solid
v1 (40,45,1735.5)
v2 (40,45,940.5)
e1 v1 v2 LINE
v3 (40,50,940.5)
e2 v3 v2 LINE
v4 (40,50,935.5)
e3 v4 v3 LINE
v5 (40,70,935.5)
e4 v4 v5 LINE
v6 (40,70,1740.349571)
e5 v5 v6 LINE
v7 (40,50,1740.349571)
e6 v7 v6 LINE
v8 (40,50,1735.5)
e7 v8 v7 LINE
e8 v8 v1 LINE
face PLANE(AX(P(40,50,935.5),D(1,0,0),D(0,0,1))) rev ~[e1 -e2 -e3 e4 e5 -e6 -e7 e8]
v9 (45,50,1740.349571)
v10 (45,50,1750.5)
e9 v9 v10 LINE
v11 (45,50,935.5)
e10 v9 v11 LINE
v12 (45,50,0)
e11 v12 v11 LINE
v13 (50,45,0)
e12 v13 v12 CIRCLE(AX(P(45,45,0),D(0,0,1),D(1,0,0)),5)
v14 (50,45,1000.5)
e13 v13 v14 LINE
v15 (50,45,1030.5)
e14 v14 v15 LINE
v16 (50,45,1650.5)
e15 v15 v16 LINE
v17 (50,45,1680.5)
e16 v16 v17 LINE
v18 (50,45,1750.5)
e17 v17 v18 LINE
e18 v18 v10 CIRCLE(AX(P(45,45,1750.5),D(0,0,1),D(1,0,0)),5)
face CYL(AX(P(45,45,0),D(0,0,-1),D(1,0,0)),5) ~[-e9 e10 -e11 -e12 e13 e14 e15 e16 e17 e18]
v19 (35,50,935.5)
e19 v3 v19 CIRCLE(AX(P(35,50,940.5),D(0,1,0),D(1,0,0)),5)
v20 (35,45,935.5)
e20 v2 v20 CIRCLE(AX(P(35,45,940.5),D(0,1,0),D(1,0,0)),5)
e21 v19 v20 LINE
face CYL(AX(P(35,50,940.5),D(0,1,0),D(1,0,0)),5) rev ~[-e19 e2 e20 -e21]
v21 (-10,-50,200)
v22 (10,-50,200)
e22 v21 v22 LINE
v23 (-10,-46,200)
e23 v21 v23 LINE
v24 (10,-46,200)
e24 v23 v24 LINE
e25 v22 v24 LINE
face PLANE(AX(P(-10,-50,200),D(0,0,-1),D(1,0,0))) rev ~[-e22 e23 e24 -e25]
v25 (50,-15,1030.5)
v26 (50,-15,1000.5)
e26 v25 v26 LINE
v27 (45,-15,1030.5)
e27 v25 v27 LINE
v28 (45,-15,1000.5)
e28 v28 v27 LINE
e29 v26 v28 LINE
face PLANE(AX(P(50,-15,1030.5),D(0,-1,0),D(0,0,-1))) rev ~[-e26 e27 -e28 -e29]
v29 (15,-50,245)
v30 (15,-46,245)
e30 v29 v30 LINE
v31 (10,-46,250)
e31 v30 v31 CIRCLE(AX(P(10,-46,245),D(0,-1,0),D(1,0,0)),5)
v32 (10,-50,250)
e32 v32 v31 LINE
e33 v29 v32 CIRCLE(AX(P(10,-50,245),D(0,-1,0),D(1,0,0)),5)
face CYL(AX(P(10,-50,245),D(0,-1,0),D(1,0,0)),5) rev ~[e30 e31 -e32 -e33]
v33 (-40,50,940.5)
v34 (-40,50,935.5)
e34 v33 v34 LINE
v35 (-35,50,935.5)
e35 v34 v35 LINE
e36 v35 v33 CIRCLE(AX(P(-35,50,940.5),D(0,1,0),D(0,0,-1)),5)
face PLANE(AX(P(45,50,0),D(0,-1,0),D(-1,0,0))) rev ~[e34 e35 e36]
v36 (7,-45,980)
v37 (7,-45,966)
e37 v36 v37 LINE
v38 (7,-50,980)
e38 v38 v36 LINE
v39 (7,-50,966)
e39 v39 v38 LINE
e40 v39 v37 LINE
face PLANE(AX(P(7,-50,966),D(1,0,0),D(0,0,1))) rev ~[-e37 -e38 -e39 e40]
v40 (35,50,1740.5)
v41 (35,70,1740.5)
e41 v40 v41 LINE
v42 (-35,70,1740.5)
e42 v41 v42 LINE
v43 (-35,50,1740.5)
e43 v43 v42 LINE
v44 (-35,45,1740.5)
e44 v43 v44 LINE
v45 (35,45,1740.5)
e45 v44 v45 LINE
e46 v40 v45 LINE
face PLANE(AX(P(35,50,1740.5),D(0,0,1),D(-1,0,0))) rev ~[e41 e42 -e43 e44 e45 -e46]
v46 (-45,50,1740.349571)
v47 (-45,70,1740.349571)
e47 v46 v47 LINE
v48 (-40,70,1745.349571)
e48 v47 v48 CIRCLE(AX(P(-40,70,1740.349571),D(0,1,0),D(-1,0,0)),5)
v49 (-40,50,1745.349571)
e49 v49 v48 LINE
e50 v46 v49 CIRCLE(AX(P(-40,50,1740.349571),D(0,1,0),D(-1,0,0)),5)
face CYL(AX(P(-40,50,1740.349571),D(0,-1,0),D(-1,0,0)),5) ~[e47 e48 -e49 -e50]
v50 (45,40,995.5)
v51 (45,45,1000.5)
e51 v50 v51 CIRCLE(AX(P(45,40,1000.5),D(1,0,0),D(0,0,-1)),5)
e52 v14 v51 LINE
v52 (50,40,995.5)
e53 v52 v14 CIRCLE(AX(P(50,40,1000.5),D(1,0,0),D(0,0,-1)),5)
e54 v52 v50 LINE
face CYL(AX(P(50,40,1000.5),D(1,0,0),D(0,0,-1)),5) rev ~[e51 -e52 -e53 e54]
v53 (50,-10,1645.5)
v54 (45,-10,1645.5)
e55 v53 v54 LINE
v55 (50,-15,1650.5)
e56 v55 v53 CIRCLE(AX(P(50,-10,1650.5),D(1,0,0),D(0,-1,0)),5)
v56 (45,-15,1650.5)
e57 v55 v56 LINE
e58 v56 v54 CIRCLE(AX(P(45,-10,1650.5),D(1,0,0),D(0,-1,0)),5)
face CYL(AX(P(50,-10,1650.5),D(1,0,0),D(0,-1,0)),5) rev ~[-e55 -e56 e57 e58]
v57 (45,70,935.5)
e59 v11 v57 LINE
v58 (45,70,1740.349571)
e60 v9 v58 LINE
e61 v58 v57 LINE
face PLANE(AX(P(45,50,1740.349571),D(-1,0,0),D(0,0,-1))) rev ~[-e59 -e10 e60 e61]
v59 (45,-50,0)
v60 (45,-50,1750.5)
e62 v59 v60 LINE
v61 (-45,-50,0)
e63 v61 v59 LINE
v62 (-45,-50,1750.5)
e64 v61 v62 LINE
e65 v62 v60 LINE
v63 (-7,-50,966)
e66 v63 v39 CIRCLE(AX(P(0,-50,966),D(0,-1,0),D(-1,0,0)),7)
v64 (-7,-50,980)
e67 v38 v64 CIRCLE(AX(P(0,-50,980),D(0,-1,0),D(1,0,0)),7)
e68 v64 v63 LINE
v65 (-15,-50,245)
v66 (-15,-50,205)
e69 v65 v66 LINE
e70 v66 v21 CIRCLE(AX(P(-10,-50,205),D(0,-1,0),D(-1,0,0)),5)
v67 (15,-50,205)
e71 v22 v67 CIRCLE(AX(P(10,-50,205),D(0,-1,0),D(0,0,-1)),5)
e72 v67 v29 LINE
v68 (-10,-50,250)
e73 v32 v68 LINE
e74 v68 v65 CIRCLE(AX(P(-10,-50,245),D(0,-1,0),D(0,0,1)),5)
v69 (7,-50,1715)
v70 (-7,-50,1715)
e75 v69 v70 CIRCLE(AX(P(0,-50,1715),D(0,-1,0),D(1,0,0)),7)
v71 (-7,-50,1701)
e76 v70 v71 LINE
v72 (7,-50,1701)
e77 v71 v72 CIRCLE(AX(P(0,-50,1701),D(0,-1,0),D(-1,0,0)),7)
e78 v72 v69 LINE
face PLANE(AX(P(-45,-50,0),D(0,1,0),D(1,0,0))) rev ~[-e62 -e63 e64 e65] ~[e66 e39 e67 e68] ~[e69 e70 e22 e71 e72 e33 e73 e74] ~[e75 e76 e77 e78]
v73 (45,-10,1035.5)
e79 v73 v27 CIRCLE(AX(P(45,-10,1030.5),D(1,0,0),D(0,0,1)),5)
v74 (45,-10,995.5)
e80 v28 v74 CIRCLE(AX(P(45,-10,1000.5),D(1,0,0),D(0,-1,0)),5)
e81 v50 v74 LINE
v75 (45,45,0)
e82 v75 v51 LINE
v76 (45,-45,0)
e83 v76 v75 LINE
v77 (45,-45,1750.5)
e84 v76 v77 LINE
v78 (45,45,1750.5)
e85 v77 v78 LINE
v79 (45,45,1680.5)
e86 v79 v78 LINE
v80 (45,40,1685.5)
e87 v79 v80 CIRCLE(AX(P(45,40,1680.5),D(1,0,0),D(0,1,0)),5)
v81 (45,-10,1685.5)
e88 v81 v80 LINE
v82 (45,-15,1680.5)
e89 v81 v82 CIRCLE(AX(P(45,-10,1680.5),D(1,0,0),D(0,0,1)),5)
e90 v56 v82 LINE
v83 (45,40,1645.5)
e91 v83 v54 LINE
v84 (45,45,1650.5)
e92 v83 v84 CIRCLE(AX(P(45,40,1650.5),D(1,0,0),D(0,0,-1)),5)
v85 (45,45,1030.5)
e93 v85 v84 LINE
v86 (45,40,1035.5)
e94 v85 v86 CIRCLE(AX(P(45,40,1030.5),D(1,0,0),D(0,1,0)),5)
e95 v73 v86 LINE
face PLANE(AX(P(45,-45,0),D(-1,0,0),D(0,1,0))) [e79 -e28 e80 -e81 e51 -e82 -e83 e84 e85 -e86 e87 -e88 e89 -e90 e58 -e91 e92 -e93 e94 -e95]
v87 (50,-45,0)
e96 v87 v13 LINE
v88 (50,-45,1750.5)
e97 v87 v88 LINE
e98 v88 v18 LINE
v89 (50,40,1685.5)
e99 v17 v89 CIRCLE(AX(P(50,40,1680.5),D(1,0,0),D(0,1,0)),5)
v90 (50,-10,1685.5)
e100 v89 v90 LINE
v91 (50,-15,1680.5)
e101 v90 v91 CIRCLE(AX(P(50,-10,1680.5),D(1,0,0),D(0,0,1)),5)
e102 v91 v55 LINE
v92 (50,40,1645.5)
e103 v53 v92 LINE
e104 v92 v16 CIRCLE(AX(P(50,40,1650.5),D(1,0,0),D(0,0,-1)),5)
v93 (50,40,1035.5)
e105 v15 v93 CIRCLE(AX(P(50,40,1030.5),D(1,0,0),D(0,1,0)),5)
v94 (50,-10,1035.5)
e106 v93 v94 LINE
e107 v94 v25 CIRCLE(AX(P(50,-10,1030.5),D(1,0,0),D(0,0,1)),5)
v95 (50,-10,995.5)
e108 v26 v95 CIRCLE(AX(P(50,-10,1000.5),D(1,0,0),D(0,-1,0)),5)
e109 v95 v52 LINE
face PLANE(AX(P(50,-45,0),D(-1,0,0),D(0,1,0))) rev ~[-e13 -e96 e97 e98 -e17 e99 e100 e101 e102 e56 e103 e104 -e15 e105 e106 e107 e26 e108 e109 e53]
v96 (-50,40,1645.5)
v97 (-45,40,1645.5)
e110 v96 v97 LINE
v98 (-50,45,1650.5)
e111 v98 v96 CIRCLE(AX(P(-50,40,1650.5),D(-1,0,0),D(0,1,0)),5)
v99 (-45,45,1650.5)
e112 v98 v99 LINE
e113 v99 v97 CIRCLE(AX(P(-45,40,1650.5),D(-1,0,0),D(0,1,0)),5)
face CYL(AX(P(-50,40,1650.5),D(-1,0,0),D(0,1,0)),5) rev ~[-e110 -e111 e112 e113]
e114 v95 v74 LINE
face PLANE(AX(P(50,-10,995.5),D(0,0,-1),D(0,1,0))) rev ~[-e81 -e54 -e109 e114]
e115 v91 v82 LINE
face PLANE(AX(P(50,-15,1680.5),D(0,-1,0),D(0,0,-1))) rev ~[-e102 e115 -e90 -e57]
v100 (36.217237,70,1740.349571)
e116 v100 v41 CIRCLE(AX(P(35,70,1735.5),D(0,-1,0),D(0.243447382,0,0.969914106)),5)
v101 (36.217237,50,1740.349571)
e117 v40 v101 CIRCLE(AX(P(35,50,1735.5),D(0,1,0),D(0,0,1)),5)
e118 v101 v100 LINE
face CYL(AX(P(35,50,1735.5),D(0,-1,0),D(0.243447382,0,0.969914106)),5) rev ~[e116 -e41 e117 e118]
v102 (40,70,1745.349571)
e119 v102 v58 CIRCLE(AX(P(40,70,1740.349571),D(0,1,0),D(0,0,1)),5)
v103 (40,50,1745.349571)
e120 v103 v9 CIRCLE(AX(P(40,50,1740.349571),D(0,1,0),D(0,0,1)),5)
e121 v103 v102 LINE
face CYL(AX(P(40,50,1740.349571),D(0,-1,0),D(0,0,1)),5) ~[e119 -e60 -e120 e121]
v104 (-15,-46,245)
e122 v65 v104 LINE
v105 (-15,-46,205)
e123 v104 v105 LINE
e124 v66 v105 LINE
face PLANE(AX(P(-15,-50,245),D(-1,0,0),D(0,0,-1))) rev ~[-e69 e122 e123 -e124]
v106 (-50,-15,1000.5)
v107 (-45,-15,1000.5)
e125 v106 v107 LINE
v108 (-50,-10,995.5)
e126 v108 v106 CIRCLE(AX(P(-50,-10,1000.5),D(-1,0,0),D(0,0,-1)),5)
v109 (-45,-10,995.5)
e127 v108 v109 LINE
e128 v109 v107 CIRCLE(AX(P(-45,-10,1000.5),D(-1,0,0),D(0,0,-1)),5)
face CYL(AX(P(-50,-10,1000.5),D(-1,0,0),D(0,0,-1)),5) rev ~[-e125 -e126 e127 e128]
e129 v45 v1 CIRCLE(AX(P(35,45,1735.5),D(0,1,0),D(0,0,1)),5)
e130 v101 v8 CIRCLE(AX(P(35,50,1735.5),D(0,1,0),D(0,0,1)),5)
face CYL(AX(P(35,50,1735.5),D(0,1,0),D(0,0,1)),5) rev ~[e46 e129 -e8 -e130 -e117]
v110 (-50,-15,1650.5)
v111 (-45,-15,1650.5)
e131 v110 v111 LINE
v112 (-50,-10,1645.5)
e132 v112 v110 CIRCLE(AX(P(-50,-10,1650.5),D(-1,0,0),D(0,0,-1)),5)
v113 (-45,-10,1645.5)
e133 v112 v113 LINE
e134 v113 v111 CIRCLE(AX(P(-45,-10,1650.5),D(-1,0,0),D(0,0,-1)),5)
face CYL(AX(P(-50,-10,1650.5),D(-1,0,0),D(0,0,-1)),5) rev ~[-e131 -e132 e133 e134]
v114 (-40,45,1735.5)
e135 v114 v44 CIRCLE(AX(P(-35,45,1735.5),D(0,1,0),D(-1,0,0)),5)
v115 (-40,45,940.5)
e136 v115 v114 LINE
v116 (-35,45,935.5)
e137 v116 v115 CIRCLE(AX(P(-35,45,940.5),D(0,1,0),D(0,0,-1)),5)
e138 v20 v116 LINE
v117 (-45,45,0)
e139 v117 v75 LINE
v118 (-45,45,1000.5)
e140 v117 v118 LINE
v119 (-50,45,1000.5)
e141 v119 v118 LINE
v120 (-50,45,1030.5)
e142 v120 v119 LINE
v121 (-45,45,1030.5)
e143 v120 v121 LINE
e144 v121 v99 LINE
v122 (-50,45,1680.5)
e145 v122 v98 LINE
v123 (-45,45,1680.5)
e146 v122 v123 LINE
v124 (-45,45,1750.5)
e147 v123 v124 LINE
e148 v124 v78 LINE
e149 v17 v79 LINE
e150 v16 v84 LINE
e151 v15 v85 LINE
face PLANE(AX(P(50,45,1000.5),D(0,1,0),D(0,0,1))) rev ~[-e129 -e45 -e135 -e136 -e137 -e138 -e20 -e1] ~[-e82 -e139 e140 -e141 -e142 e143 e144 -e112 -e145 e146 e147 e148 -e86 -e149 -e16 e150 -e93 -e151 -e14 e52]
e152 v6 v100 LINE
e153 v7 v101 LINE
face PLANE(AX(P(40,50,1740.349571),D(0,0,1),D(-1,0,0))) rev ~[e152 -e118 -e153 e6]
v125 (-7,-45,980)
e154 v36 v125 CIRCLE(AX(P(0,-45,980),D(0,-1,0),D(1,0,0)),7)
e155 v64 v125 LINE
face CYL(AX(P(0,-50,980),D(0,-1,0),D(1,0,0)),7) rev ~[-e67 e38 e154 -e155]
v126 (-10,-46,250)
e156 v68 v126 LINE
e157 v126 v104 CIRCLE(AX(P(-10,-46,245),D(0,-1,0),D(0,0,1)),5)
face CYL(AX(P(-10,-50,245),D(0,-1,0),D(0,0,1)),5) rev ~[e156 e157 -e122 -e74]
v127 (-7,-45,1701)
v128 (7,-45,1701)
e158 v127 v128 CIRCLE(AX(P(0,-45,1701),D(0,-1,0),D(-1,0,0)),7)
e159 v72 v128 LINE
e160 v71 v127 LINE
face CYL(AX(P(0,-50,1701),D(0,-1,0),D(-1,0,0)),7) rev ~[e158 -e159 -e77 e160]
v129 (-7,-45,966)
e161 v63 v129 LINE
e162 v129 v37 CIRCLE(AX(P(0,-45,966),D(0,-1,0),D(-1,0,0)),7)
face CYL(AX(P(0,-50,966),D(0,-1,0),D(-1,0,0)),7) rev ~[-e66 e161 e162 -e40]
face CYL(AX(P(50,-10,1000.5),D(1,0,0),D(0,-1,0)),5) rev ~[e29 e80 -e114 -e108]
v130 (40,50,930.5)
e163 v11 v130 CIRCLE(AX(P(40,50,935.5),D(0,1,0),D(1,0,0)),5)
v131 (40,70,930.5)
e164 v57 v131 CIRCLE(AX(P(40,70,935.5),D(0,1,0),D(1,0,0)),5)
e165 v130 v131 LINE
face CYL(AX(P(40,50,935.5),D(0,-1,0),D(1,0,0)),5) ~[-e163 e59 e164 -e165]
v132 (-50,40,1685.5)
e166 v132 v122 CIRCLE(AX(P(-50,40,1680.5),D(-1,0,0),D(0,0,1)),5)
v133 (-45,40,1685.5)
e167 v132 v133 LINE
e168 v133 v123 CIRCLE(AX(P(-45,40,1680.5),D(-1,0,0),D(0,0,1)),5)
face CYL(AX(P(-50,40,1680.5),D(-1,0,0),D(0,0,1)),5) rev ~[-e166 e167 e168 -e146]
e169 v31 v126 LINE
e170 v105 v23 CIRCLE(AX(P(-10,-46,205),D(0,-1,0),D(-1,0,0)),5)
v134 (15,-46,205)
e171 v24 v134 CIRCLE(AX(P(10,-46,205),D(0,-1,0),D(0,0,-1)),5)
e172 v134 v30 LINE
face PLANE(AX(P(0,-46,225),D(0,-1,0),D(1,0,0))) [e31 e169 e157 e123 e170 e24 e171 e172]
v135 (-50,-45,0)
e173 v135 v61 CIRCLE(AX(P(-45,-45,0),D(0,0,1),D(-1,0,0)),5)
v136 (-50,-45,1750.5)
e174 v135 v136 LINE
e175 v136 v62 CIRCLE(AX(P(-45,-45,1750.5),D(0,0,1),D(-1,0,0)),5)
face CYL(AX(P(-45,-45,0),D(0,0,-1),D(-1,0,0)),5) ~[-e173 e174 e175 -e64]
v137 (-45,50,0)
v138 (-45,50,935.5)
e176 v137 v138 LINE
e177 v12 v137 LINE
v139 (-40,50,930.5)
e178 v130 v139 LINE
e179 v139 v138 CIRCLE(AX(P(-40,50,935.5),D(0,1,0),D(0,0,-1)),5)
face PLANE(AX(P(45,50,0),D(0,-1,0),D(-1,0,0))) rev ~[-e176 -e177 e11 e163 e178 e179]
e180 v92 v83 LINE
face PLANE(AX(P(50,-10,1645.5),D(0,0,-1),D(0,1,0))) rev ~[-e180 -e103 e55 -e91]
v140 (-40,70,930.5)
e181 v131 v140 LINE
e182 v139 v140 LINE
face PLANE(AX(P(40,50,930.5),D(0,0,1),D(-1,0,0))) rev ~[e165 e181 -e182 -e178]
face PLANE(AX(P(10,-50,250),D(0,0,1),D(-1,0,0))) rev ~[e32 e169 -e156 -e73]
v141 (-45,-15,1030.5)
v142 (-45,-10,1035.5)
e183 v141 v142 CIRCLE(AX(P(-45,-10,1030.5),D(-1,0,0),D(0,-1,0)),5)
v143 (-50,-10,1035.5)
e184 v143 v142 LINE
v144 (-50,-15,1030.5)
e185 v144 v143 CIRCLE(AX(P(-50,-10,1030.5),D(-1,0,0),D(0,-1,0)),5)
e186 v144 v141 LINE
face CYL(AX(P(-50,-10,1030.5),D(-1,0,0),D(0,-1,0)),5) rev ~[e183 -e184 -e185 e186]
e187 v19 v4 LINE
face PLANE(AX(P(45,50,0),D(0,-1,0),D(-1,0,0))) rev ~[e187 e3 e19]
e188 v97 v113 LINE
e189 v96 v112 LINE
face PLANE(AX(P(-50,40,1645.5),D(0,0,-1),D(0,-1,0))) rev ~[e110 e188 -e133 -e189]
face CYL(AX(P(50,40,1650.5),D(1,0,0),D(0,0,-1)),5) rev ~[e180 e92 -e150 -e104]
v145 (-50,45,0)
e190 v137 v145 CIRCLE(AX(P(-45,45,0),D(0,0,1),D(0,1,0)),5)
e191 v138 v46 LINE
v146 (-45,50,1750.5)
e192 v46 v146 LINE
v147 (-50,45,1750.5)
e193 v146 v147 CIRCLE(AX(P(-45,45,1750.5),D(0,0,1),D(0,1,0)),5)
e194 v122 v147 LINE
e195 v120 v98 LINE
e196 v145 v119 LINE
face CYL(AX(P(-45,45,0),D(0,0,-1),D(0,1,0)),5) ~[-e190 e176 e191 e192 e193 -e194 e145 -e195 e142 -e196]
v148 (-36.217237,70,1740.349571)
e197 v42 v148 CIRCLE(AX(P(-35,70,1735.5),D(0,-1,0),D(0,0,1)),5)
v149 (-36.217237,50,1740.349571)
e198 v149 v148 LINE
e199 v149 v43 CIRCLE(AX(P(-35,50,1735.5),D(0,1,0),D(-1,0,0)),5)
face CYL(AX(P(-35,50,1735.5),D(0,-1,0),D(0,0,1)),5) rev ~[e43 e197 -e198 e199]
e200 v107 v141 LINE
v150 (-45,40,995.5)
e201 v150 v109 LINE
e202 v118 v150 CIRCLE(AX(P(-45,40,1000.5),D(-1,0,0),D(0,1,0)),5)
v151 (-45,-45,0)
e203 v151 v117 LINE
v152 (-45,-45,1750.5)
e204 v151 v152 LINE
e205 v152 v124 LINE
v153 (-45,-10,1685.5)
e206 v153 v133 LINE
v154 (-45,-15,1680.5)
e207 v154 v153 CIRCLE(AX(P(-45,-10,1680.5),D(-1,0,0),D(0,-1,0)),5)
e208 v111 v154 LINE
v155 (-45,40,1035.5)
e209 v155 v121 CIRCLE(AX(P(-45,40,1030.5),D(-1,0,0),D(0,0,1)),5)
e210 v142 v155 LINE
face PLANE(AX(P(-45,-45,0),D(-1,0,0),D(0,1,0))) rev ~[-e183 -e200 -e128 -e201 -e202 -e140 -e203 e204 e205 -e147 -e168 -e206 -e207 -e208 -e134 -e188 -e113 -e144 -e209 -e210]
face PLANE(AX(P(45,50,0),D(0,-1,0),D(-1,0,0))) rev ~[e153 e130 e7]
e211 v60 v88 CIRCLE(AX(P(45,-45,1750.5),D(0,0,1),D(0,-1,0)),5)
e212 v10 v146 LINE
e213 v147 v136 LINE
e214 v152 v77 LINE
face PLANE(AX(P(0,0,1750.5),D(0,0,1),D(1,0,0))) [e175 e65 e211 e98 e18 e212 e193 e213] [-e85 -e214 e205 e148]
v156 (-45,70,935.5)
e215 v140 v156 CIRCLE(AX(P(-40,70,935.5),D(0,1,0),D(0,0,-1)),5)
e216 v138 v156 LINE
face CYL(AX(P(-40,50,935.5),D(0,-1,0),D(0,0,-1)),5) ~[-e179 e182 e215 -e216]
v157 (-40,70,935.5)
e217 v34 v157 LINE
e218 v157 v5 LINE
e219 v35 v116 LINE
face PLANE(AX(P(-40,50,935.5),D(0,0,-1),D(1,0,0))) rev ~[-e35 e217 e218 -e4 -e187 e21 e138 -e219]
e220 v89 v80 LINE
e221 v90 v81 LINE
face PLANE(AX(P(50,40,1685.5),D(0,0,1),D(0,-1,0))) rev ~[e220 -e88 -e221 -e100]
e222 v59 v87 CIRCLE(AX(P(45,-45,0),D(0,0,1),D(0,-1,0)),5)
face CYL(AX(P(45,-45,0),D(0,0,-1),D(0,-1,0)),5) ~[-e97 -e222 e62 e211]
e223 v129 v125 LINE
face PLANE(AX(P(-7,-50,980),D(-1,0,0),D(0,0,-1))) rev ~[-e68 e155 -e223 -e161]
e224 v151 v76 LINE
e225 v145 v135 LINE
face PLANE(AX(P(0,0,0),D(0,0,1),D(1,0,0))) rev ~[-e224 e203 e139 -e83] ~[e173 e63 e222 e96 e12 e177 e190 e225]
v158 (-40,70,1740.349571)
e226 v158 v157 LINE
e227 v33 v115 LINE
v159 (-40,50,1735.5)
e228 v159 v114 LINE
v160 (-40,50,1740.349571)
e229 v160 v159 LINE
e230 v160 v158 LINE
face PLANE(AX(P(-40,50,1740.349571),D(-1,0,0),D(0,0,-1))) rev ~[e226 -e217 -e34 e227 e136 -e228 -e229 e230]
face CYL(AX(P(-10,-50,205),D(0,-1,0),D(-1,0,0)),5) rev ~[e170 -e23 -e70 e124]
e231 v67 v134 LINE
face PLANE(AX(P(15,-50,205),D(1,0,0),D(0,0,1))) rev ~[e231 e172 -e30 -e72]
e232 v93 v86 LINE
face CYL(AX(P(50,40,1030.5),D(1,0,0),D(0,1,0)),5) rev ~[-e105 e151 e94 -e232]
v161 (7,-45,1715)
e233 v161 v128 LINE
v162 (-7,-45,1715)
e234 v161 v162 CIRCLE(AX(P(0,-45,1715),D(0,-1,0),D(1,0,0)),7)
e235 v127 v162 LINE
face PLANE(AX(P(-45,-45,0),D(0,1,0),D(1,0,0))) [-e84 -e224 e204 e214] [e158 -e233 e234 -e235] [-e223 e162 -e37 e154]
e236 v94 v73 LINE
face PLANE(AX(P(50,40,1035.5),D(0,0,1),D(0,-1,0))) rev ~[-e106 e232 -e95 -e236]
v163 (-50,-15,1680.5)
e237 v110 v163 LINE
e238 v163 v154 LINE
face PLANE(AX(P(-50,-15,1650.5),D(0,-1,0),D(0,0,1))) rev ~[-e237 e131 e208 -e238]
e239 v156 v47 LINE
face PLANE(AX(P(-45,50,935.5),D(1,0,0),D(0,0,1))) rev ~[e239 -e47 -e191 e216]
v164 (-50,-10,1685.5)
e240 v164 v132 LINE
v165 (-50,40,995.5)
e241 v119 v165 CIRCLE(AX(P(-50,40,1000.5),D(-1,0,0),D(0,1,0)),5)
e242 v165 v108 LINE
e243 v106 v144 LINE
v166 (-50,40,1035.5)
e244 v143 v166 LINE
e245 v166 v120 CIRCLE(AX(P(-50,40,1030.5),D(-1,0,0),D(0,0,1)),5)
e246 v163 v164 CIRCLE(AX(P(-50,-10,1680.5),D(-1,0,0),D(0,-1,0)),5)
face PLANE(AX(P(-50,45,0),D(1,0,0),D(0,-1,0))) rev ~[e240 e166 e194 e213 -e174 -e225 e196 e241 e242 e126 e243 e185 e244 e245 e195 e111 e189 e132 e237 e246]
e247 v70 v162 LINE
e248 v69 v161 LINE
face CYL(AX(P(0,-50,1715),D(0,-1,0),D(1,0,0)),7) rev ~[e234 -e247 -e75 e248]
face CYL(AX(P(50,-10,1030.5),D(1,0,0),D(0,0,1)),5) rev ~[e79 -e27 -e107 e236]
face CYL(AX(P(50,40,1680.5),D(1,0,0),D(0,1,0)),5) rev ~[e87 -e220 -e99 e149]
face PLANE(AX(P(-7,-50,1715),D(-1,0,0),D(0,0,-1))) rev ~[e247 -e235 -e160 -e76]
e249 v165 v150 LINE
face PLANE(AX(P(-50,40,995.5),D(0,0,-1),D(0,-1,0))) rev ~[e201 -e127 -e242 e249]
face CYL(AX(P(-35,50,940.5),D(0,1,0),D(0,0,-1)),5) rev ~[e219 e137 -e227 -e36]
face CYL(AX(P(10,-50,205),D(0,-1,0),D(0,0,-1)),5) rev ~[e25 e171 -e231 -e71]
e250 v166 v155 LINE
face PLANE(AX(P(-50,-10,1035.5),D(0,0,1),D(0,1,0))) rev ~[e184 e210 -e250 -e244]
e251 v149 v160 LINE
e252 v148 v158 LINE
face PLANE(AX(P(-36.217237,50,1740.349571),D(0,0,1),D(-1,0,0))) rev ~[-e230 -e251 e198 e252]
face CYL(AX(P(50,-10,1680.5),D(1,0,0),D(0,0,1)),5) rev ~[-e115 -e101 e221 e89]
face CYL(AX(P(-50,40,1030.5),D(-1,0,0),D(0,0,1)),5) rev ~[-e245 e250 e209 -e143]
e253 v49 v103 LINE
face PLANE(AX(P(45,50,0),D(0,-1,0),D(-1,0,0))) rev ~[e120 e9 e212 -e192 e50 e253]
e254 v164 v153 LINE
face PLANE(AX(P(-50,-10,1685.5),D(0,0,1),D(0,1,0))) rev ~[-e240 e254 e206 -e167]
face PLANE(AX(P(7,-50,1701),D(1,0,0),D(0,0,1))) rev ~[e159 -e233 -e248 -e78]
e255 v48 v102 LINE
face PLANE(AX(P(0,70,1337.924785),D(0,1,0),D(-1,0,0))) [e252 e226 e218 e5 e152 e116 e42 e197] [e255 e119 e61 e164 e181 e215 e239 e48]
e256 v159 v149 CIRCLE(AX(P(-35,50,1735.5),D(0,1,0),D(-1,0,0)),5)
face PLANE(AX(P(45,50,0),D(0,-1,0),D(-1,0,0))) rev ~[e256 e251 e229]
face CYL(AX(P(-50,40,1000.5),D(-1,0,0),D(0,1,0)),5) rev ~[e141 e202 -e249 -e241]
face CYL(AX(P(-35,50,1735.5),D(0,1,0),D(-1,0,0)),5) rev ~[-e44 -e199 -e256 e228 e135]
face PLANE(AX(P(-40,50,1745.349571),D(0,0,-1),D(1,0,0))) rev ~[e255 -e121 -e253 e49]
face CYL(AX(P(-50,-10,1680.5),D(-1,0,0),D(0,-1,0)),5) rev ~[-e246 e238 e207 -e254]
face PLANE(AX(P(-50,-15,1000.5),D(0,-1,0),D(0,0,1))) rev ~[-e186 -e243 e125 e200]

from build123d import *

# Parameters (mm, degrees)
F0_W      = 90
F0_H      = 90
F1_DEPTH  = 1750.5
F3_DEPTH  = 4
F5_DEPTH  = 25
F7_DEPTH  = 25
F9_DEPTH  = 25
F11_DEPTH = 25
F13_DEPTH = 20


with BuildPart() as f1:
    # F0 (on Top) → F1 (new body)
    with BuildSketch(Plane.XY):
        with BuildLine():
            ThreePointArc((50, 45), (48.5355339059, 48.5355339059), (45, 50))
            Line((45, 50), (-45, 50))
            ThreePointArc((-45, 50), (-48.5355339059, 48.5355339059), (-50, 45))
            Line((-50, 45), (-50, -45))
            ThreePointArc((-50, -45), (-48.5355339059, -48.5355339059), (-45, -50))
            Line((-45, -50), (45, -50))
            ThreePointArc((45, -50), (48.5355339059, -48.5355339059), (50, -45))
            Line((50, -45), (50, 45))
        make_face()
        Rectangle(F0_W, F0_H, mode=Mode.SUBTRACT)
    extrude(amount=F1_DEPTH)

    # F2 (on face) → F3 (cut)
    with BuildSketch(Plane.XZ.offset(50)):
        with BuildLine():
            ThreePointArc((-15, 205), (-13.5355339059, 201.4644660941), (-10, 200))
            Line((-10, 200), (10, 200))
            ThreePointArc((10, 200), (13.5355339059, 201.4644660941), (15, 205))
            Line((15, 205), (15, 245))
            ThreePointArc((15, 245), (13.5355339059, 248.5355339059), (10, 250))
            Line((10, 250), (-10, 250))
            ThreePointArc((-10, 250), (-13.5355339059, 248.5355339059), (-15, 245))
            Line((-15, 245), (-15, 205))
        make_face()
    extrude(amount=-F3_DEPTH, mode=Mode.SUBTRACT)

    # F4 (on face) → F5 (cut)
    with BuildSketch(Plane(origin=(0, 50, 0), x_dir=(-1, 0, 0), z_dir=(0, 1, 0))):
        with BuildLine():
            Line((35, 1740.5), (-35, 1740.5))
            ThreePointArc((-35, 1740.5), (-38.5355339059, 1739.0355339059), (-40, 1735.5))
            Line((-40, 1735.5), (-40, 940.5))
            ThreePointArc((-40, 940.5), (-38.5355339059, 936.9644660941), (-35, 935.5))
            Line((-35, 935.5), (35, 935.5))
            ThreePointArc((35, 935.5), (38.5355339059, 936.9644660941), (40, 940.5))
            Line((40, 940.5), (40, 1735.5))
            ThreePointArc((40, 1735.5), (38.5355339059, 1739.0355339059), (35, 1740.5))
        make_face()
    extrude(amount=-F5_DEPTH, mode=Mode.SUBTRACT)

    # F6 (on face) → F7 (cut)
    with BuildSketch(Plane.XZ.offset(50)):
        with BuildLine():
            Line((7, 966), (7, 980))
            ThreePointArc((7, 980), (0, 987), (-7, 980))
            Line((-7, 980), (-7, 966))
            ThreePointArc((-7, 966), (0, 959), (7, 966))
        make_face()
        with BuildLine():
            Line((-7, 1715), (-7, 1701))
            ThreePointArc((-7, 1701), (0, 1694), (7, 1701))
            Line((7, 1701), (7, 1715))
            ThreePointArc((7, 1715), (0, 1722), (-7, 1715))
        make_face()
    extrude(amount=-F7_DEPTH, mode=Mode.SUBTRACT)

    # F8 (on face) → F9 (cut)
    with BuildSketch(Plane.YZ.offset(50)):
        with BuildLine():
            Line((45, 1000.5), (45, 1030.5))
            ThreePointArc((45, 1030.5), (43.5355339059, 1034.0355339059), (40, 1035.5))
            Line((40, 1035.5), (-10, 1035.5))
            ThreePointArc((-10, 1035.5), (-13.5355339059, 1034.0355339059), (-15, 1030.5))
            Line((-15, 1030.5), (-15, 1000.5))
            ThreePointArc((-15, 1000.5), (-13.5355339059, 996.9644660941), (-10, 995.5))
            Line((-10, 995.5), (40, 995.5))
            ThreePointArc((40, 995.5), (43.5355339059, 996.9644660941), (45, 1000.5))
        make_face()
        with BuildLine():
            Line((40, 1685.5), (-10, 1685.5))
            ThreePointArc((-10, 1685.5), (-13.5355339059, 1684.0355339059), (-15, 1680.5))
            Line((-15, 1680.5), (-15, 1650.5))
            ThreePointArc((-15, 1650.5), (-13.5355339059, 1646.9644660941), (-10, 1645.5))
            Line((-10, 1645.5), (40, 1645.5))
            ThreePointArc((40, 1645.5), (43.5355339059, 1646.9644660941), (45, 1650.5))
            Line((45, 1650.5), (45, 1680.5))
            ThreePointArc((45, 1680.5), (43.5355339059, 1684.0355339059), (40, 1685.5))
        make_face()
    extrude(amount=-F9_DEPTH, mode=Mode.SUBTRACT)

    # F10 (on face) → F11 (cut)
    with BuildSketch(Plane(origin=(-50, 0, 0), x_dir=(0, -1, 0), z_dir=(-1, 0, 0))):
        with BuildLine():
            Line((10, 1685.5), (-40, 1685.5))
            ThreePointArc((-40, 1685.5), (-43.5355339059, 1684.0355339059), (-45, 1680.5))
            Line((-45, 1680.5), (-45, 1650.5))
            ThreePointArc((-45, 1650.5), (-43.5355339059, 1646.9644660941), (-40, 1645.5))
            Line((-40, 1645.5), (10, 1645.5))
            ThreePointArc((10, 1645.5), (13.5355339059, 1646.9644660941), (15, 1650.5))
            Line((15, 1650.5), (15, 1680.5))
            ThreePointArc((15, 1680.5), (13.5355339059, 1684.0355339059), (10, 1685.5))
        make_face()
        with BuildLine():
            ThreePointArc((-40, 1035.5), (-43.5355339059, 1034.0355339059), (-45, 1030.5))
            Line((-45, 1030.5), (-45, 1000.5))
            ThreePointArc((-45, 1000.5), (-43.5355339059, 996.9644660941), (-40, 995.5))
            Line((-40, 995.5), (10, 995.5))
            ThreePointArc((10, 995.5), (13.5355339059, 996.9644660941), (15, 1000.5))
            Line((15, 1000.5), (15, 1030.5))
            ThreePointArc((15, 1030.5), (13.5355339059, 1034.0355339059), (10, 1035.5))
            Line((10, 1035.5), (-40, 1035.5))
        make_face()
    extrude(amount=-F11_DEPTH, mode=Mode.SUBTRACT)

    # F12 (on face) → F13 (join)
    with BuildSketch(Plane(origin=(0, 50, 0), x_dir=(-1, 0, 0), z_dir=(0, 1, 0))):
        with BuildLine():
            ThreePointArc((-45, 935.5), (-43.5355339059, 931.9644660941), (-40, 930.5))
            Line((-40, 930.5), (40, 930.5))
            ThreePointArc((40, 930.5), (43.5355339059, 931.9644660941), (45, 935.5))
            Line((45, 935.5), (45, 1740.3495705284))
            ThreePointArc((45, 1740.3495705284), (43.5355339059, 1743.8851044344), (40, 1745.3495705284))
            Line((40, 1745.3495705284), (-40, 1745.3495705284))
            ThreePointArc((-40, 1745.3495705284), (-43.5355339059, 1743.8851044344), (-45, 1740.3495705284))
            Line((-45, 1740.3495705284), (-45, 935.5))
        make_face()
        with BuildLine():
            Line((-40, 1735.5), (-40, 1740.3495705284))
            Line((-40, 1740.3495705284), (-36.2172369078, 1740.3495705284))
            ThreePointArc((-36.2172369078, 1740.3495705284), (-35.6132484642, 1740.4622501268), (-35, 1740.5))
            Line((-35, 1740.5), (35, 1740.5))
            ThreePointArc((35, 1740.5), (35.6132484642, 1740.4622501268), (36.2172369078, 1740.3495705284))
            Line((36.2172369078, 1740.3495705284), (40, 1740.3495705284))
            Line((40, 1740.3495705284), (40, 1735.5))
            Line((40, 1735.5), (40, 940.5))
            Line((40, 940.5), (40, 935.5))
            Line((40, 935.5), (35, 935.5))
            Line((35, 935.5), (-35, 935.5))
            Line((-35, 935.5), (-40, 935.5))
            Line((-40, 935.5), (-40, 940.5))
            Line((-40, 940.5), (-40, 1735.5))
        make_face(mode=Mode.SUBTRACT)
    extrude(amount=F13_DEPTH)


solid = f1.part
